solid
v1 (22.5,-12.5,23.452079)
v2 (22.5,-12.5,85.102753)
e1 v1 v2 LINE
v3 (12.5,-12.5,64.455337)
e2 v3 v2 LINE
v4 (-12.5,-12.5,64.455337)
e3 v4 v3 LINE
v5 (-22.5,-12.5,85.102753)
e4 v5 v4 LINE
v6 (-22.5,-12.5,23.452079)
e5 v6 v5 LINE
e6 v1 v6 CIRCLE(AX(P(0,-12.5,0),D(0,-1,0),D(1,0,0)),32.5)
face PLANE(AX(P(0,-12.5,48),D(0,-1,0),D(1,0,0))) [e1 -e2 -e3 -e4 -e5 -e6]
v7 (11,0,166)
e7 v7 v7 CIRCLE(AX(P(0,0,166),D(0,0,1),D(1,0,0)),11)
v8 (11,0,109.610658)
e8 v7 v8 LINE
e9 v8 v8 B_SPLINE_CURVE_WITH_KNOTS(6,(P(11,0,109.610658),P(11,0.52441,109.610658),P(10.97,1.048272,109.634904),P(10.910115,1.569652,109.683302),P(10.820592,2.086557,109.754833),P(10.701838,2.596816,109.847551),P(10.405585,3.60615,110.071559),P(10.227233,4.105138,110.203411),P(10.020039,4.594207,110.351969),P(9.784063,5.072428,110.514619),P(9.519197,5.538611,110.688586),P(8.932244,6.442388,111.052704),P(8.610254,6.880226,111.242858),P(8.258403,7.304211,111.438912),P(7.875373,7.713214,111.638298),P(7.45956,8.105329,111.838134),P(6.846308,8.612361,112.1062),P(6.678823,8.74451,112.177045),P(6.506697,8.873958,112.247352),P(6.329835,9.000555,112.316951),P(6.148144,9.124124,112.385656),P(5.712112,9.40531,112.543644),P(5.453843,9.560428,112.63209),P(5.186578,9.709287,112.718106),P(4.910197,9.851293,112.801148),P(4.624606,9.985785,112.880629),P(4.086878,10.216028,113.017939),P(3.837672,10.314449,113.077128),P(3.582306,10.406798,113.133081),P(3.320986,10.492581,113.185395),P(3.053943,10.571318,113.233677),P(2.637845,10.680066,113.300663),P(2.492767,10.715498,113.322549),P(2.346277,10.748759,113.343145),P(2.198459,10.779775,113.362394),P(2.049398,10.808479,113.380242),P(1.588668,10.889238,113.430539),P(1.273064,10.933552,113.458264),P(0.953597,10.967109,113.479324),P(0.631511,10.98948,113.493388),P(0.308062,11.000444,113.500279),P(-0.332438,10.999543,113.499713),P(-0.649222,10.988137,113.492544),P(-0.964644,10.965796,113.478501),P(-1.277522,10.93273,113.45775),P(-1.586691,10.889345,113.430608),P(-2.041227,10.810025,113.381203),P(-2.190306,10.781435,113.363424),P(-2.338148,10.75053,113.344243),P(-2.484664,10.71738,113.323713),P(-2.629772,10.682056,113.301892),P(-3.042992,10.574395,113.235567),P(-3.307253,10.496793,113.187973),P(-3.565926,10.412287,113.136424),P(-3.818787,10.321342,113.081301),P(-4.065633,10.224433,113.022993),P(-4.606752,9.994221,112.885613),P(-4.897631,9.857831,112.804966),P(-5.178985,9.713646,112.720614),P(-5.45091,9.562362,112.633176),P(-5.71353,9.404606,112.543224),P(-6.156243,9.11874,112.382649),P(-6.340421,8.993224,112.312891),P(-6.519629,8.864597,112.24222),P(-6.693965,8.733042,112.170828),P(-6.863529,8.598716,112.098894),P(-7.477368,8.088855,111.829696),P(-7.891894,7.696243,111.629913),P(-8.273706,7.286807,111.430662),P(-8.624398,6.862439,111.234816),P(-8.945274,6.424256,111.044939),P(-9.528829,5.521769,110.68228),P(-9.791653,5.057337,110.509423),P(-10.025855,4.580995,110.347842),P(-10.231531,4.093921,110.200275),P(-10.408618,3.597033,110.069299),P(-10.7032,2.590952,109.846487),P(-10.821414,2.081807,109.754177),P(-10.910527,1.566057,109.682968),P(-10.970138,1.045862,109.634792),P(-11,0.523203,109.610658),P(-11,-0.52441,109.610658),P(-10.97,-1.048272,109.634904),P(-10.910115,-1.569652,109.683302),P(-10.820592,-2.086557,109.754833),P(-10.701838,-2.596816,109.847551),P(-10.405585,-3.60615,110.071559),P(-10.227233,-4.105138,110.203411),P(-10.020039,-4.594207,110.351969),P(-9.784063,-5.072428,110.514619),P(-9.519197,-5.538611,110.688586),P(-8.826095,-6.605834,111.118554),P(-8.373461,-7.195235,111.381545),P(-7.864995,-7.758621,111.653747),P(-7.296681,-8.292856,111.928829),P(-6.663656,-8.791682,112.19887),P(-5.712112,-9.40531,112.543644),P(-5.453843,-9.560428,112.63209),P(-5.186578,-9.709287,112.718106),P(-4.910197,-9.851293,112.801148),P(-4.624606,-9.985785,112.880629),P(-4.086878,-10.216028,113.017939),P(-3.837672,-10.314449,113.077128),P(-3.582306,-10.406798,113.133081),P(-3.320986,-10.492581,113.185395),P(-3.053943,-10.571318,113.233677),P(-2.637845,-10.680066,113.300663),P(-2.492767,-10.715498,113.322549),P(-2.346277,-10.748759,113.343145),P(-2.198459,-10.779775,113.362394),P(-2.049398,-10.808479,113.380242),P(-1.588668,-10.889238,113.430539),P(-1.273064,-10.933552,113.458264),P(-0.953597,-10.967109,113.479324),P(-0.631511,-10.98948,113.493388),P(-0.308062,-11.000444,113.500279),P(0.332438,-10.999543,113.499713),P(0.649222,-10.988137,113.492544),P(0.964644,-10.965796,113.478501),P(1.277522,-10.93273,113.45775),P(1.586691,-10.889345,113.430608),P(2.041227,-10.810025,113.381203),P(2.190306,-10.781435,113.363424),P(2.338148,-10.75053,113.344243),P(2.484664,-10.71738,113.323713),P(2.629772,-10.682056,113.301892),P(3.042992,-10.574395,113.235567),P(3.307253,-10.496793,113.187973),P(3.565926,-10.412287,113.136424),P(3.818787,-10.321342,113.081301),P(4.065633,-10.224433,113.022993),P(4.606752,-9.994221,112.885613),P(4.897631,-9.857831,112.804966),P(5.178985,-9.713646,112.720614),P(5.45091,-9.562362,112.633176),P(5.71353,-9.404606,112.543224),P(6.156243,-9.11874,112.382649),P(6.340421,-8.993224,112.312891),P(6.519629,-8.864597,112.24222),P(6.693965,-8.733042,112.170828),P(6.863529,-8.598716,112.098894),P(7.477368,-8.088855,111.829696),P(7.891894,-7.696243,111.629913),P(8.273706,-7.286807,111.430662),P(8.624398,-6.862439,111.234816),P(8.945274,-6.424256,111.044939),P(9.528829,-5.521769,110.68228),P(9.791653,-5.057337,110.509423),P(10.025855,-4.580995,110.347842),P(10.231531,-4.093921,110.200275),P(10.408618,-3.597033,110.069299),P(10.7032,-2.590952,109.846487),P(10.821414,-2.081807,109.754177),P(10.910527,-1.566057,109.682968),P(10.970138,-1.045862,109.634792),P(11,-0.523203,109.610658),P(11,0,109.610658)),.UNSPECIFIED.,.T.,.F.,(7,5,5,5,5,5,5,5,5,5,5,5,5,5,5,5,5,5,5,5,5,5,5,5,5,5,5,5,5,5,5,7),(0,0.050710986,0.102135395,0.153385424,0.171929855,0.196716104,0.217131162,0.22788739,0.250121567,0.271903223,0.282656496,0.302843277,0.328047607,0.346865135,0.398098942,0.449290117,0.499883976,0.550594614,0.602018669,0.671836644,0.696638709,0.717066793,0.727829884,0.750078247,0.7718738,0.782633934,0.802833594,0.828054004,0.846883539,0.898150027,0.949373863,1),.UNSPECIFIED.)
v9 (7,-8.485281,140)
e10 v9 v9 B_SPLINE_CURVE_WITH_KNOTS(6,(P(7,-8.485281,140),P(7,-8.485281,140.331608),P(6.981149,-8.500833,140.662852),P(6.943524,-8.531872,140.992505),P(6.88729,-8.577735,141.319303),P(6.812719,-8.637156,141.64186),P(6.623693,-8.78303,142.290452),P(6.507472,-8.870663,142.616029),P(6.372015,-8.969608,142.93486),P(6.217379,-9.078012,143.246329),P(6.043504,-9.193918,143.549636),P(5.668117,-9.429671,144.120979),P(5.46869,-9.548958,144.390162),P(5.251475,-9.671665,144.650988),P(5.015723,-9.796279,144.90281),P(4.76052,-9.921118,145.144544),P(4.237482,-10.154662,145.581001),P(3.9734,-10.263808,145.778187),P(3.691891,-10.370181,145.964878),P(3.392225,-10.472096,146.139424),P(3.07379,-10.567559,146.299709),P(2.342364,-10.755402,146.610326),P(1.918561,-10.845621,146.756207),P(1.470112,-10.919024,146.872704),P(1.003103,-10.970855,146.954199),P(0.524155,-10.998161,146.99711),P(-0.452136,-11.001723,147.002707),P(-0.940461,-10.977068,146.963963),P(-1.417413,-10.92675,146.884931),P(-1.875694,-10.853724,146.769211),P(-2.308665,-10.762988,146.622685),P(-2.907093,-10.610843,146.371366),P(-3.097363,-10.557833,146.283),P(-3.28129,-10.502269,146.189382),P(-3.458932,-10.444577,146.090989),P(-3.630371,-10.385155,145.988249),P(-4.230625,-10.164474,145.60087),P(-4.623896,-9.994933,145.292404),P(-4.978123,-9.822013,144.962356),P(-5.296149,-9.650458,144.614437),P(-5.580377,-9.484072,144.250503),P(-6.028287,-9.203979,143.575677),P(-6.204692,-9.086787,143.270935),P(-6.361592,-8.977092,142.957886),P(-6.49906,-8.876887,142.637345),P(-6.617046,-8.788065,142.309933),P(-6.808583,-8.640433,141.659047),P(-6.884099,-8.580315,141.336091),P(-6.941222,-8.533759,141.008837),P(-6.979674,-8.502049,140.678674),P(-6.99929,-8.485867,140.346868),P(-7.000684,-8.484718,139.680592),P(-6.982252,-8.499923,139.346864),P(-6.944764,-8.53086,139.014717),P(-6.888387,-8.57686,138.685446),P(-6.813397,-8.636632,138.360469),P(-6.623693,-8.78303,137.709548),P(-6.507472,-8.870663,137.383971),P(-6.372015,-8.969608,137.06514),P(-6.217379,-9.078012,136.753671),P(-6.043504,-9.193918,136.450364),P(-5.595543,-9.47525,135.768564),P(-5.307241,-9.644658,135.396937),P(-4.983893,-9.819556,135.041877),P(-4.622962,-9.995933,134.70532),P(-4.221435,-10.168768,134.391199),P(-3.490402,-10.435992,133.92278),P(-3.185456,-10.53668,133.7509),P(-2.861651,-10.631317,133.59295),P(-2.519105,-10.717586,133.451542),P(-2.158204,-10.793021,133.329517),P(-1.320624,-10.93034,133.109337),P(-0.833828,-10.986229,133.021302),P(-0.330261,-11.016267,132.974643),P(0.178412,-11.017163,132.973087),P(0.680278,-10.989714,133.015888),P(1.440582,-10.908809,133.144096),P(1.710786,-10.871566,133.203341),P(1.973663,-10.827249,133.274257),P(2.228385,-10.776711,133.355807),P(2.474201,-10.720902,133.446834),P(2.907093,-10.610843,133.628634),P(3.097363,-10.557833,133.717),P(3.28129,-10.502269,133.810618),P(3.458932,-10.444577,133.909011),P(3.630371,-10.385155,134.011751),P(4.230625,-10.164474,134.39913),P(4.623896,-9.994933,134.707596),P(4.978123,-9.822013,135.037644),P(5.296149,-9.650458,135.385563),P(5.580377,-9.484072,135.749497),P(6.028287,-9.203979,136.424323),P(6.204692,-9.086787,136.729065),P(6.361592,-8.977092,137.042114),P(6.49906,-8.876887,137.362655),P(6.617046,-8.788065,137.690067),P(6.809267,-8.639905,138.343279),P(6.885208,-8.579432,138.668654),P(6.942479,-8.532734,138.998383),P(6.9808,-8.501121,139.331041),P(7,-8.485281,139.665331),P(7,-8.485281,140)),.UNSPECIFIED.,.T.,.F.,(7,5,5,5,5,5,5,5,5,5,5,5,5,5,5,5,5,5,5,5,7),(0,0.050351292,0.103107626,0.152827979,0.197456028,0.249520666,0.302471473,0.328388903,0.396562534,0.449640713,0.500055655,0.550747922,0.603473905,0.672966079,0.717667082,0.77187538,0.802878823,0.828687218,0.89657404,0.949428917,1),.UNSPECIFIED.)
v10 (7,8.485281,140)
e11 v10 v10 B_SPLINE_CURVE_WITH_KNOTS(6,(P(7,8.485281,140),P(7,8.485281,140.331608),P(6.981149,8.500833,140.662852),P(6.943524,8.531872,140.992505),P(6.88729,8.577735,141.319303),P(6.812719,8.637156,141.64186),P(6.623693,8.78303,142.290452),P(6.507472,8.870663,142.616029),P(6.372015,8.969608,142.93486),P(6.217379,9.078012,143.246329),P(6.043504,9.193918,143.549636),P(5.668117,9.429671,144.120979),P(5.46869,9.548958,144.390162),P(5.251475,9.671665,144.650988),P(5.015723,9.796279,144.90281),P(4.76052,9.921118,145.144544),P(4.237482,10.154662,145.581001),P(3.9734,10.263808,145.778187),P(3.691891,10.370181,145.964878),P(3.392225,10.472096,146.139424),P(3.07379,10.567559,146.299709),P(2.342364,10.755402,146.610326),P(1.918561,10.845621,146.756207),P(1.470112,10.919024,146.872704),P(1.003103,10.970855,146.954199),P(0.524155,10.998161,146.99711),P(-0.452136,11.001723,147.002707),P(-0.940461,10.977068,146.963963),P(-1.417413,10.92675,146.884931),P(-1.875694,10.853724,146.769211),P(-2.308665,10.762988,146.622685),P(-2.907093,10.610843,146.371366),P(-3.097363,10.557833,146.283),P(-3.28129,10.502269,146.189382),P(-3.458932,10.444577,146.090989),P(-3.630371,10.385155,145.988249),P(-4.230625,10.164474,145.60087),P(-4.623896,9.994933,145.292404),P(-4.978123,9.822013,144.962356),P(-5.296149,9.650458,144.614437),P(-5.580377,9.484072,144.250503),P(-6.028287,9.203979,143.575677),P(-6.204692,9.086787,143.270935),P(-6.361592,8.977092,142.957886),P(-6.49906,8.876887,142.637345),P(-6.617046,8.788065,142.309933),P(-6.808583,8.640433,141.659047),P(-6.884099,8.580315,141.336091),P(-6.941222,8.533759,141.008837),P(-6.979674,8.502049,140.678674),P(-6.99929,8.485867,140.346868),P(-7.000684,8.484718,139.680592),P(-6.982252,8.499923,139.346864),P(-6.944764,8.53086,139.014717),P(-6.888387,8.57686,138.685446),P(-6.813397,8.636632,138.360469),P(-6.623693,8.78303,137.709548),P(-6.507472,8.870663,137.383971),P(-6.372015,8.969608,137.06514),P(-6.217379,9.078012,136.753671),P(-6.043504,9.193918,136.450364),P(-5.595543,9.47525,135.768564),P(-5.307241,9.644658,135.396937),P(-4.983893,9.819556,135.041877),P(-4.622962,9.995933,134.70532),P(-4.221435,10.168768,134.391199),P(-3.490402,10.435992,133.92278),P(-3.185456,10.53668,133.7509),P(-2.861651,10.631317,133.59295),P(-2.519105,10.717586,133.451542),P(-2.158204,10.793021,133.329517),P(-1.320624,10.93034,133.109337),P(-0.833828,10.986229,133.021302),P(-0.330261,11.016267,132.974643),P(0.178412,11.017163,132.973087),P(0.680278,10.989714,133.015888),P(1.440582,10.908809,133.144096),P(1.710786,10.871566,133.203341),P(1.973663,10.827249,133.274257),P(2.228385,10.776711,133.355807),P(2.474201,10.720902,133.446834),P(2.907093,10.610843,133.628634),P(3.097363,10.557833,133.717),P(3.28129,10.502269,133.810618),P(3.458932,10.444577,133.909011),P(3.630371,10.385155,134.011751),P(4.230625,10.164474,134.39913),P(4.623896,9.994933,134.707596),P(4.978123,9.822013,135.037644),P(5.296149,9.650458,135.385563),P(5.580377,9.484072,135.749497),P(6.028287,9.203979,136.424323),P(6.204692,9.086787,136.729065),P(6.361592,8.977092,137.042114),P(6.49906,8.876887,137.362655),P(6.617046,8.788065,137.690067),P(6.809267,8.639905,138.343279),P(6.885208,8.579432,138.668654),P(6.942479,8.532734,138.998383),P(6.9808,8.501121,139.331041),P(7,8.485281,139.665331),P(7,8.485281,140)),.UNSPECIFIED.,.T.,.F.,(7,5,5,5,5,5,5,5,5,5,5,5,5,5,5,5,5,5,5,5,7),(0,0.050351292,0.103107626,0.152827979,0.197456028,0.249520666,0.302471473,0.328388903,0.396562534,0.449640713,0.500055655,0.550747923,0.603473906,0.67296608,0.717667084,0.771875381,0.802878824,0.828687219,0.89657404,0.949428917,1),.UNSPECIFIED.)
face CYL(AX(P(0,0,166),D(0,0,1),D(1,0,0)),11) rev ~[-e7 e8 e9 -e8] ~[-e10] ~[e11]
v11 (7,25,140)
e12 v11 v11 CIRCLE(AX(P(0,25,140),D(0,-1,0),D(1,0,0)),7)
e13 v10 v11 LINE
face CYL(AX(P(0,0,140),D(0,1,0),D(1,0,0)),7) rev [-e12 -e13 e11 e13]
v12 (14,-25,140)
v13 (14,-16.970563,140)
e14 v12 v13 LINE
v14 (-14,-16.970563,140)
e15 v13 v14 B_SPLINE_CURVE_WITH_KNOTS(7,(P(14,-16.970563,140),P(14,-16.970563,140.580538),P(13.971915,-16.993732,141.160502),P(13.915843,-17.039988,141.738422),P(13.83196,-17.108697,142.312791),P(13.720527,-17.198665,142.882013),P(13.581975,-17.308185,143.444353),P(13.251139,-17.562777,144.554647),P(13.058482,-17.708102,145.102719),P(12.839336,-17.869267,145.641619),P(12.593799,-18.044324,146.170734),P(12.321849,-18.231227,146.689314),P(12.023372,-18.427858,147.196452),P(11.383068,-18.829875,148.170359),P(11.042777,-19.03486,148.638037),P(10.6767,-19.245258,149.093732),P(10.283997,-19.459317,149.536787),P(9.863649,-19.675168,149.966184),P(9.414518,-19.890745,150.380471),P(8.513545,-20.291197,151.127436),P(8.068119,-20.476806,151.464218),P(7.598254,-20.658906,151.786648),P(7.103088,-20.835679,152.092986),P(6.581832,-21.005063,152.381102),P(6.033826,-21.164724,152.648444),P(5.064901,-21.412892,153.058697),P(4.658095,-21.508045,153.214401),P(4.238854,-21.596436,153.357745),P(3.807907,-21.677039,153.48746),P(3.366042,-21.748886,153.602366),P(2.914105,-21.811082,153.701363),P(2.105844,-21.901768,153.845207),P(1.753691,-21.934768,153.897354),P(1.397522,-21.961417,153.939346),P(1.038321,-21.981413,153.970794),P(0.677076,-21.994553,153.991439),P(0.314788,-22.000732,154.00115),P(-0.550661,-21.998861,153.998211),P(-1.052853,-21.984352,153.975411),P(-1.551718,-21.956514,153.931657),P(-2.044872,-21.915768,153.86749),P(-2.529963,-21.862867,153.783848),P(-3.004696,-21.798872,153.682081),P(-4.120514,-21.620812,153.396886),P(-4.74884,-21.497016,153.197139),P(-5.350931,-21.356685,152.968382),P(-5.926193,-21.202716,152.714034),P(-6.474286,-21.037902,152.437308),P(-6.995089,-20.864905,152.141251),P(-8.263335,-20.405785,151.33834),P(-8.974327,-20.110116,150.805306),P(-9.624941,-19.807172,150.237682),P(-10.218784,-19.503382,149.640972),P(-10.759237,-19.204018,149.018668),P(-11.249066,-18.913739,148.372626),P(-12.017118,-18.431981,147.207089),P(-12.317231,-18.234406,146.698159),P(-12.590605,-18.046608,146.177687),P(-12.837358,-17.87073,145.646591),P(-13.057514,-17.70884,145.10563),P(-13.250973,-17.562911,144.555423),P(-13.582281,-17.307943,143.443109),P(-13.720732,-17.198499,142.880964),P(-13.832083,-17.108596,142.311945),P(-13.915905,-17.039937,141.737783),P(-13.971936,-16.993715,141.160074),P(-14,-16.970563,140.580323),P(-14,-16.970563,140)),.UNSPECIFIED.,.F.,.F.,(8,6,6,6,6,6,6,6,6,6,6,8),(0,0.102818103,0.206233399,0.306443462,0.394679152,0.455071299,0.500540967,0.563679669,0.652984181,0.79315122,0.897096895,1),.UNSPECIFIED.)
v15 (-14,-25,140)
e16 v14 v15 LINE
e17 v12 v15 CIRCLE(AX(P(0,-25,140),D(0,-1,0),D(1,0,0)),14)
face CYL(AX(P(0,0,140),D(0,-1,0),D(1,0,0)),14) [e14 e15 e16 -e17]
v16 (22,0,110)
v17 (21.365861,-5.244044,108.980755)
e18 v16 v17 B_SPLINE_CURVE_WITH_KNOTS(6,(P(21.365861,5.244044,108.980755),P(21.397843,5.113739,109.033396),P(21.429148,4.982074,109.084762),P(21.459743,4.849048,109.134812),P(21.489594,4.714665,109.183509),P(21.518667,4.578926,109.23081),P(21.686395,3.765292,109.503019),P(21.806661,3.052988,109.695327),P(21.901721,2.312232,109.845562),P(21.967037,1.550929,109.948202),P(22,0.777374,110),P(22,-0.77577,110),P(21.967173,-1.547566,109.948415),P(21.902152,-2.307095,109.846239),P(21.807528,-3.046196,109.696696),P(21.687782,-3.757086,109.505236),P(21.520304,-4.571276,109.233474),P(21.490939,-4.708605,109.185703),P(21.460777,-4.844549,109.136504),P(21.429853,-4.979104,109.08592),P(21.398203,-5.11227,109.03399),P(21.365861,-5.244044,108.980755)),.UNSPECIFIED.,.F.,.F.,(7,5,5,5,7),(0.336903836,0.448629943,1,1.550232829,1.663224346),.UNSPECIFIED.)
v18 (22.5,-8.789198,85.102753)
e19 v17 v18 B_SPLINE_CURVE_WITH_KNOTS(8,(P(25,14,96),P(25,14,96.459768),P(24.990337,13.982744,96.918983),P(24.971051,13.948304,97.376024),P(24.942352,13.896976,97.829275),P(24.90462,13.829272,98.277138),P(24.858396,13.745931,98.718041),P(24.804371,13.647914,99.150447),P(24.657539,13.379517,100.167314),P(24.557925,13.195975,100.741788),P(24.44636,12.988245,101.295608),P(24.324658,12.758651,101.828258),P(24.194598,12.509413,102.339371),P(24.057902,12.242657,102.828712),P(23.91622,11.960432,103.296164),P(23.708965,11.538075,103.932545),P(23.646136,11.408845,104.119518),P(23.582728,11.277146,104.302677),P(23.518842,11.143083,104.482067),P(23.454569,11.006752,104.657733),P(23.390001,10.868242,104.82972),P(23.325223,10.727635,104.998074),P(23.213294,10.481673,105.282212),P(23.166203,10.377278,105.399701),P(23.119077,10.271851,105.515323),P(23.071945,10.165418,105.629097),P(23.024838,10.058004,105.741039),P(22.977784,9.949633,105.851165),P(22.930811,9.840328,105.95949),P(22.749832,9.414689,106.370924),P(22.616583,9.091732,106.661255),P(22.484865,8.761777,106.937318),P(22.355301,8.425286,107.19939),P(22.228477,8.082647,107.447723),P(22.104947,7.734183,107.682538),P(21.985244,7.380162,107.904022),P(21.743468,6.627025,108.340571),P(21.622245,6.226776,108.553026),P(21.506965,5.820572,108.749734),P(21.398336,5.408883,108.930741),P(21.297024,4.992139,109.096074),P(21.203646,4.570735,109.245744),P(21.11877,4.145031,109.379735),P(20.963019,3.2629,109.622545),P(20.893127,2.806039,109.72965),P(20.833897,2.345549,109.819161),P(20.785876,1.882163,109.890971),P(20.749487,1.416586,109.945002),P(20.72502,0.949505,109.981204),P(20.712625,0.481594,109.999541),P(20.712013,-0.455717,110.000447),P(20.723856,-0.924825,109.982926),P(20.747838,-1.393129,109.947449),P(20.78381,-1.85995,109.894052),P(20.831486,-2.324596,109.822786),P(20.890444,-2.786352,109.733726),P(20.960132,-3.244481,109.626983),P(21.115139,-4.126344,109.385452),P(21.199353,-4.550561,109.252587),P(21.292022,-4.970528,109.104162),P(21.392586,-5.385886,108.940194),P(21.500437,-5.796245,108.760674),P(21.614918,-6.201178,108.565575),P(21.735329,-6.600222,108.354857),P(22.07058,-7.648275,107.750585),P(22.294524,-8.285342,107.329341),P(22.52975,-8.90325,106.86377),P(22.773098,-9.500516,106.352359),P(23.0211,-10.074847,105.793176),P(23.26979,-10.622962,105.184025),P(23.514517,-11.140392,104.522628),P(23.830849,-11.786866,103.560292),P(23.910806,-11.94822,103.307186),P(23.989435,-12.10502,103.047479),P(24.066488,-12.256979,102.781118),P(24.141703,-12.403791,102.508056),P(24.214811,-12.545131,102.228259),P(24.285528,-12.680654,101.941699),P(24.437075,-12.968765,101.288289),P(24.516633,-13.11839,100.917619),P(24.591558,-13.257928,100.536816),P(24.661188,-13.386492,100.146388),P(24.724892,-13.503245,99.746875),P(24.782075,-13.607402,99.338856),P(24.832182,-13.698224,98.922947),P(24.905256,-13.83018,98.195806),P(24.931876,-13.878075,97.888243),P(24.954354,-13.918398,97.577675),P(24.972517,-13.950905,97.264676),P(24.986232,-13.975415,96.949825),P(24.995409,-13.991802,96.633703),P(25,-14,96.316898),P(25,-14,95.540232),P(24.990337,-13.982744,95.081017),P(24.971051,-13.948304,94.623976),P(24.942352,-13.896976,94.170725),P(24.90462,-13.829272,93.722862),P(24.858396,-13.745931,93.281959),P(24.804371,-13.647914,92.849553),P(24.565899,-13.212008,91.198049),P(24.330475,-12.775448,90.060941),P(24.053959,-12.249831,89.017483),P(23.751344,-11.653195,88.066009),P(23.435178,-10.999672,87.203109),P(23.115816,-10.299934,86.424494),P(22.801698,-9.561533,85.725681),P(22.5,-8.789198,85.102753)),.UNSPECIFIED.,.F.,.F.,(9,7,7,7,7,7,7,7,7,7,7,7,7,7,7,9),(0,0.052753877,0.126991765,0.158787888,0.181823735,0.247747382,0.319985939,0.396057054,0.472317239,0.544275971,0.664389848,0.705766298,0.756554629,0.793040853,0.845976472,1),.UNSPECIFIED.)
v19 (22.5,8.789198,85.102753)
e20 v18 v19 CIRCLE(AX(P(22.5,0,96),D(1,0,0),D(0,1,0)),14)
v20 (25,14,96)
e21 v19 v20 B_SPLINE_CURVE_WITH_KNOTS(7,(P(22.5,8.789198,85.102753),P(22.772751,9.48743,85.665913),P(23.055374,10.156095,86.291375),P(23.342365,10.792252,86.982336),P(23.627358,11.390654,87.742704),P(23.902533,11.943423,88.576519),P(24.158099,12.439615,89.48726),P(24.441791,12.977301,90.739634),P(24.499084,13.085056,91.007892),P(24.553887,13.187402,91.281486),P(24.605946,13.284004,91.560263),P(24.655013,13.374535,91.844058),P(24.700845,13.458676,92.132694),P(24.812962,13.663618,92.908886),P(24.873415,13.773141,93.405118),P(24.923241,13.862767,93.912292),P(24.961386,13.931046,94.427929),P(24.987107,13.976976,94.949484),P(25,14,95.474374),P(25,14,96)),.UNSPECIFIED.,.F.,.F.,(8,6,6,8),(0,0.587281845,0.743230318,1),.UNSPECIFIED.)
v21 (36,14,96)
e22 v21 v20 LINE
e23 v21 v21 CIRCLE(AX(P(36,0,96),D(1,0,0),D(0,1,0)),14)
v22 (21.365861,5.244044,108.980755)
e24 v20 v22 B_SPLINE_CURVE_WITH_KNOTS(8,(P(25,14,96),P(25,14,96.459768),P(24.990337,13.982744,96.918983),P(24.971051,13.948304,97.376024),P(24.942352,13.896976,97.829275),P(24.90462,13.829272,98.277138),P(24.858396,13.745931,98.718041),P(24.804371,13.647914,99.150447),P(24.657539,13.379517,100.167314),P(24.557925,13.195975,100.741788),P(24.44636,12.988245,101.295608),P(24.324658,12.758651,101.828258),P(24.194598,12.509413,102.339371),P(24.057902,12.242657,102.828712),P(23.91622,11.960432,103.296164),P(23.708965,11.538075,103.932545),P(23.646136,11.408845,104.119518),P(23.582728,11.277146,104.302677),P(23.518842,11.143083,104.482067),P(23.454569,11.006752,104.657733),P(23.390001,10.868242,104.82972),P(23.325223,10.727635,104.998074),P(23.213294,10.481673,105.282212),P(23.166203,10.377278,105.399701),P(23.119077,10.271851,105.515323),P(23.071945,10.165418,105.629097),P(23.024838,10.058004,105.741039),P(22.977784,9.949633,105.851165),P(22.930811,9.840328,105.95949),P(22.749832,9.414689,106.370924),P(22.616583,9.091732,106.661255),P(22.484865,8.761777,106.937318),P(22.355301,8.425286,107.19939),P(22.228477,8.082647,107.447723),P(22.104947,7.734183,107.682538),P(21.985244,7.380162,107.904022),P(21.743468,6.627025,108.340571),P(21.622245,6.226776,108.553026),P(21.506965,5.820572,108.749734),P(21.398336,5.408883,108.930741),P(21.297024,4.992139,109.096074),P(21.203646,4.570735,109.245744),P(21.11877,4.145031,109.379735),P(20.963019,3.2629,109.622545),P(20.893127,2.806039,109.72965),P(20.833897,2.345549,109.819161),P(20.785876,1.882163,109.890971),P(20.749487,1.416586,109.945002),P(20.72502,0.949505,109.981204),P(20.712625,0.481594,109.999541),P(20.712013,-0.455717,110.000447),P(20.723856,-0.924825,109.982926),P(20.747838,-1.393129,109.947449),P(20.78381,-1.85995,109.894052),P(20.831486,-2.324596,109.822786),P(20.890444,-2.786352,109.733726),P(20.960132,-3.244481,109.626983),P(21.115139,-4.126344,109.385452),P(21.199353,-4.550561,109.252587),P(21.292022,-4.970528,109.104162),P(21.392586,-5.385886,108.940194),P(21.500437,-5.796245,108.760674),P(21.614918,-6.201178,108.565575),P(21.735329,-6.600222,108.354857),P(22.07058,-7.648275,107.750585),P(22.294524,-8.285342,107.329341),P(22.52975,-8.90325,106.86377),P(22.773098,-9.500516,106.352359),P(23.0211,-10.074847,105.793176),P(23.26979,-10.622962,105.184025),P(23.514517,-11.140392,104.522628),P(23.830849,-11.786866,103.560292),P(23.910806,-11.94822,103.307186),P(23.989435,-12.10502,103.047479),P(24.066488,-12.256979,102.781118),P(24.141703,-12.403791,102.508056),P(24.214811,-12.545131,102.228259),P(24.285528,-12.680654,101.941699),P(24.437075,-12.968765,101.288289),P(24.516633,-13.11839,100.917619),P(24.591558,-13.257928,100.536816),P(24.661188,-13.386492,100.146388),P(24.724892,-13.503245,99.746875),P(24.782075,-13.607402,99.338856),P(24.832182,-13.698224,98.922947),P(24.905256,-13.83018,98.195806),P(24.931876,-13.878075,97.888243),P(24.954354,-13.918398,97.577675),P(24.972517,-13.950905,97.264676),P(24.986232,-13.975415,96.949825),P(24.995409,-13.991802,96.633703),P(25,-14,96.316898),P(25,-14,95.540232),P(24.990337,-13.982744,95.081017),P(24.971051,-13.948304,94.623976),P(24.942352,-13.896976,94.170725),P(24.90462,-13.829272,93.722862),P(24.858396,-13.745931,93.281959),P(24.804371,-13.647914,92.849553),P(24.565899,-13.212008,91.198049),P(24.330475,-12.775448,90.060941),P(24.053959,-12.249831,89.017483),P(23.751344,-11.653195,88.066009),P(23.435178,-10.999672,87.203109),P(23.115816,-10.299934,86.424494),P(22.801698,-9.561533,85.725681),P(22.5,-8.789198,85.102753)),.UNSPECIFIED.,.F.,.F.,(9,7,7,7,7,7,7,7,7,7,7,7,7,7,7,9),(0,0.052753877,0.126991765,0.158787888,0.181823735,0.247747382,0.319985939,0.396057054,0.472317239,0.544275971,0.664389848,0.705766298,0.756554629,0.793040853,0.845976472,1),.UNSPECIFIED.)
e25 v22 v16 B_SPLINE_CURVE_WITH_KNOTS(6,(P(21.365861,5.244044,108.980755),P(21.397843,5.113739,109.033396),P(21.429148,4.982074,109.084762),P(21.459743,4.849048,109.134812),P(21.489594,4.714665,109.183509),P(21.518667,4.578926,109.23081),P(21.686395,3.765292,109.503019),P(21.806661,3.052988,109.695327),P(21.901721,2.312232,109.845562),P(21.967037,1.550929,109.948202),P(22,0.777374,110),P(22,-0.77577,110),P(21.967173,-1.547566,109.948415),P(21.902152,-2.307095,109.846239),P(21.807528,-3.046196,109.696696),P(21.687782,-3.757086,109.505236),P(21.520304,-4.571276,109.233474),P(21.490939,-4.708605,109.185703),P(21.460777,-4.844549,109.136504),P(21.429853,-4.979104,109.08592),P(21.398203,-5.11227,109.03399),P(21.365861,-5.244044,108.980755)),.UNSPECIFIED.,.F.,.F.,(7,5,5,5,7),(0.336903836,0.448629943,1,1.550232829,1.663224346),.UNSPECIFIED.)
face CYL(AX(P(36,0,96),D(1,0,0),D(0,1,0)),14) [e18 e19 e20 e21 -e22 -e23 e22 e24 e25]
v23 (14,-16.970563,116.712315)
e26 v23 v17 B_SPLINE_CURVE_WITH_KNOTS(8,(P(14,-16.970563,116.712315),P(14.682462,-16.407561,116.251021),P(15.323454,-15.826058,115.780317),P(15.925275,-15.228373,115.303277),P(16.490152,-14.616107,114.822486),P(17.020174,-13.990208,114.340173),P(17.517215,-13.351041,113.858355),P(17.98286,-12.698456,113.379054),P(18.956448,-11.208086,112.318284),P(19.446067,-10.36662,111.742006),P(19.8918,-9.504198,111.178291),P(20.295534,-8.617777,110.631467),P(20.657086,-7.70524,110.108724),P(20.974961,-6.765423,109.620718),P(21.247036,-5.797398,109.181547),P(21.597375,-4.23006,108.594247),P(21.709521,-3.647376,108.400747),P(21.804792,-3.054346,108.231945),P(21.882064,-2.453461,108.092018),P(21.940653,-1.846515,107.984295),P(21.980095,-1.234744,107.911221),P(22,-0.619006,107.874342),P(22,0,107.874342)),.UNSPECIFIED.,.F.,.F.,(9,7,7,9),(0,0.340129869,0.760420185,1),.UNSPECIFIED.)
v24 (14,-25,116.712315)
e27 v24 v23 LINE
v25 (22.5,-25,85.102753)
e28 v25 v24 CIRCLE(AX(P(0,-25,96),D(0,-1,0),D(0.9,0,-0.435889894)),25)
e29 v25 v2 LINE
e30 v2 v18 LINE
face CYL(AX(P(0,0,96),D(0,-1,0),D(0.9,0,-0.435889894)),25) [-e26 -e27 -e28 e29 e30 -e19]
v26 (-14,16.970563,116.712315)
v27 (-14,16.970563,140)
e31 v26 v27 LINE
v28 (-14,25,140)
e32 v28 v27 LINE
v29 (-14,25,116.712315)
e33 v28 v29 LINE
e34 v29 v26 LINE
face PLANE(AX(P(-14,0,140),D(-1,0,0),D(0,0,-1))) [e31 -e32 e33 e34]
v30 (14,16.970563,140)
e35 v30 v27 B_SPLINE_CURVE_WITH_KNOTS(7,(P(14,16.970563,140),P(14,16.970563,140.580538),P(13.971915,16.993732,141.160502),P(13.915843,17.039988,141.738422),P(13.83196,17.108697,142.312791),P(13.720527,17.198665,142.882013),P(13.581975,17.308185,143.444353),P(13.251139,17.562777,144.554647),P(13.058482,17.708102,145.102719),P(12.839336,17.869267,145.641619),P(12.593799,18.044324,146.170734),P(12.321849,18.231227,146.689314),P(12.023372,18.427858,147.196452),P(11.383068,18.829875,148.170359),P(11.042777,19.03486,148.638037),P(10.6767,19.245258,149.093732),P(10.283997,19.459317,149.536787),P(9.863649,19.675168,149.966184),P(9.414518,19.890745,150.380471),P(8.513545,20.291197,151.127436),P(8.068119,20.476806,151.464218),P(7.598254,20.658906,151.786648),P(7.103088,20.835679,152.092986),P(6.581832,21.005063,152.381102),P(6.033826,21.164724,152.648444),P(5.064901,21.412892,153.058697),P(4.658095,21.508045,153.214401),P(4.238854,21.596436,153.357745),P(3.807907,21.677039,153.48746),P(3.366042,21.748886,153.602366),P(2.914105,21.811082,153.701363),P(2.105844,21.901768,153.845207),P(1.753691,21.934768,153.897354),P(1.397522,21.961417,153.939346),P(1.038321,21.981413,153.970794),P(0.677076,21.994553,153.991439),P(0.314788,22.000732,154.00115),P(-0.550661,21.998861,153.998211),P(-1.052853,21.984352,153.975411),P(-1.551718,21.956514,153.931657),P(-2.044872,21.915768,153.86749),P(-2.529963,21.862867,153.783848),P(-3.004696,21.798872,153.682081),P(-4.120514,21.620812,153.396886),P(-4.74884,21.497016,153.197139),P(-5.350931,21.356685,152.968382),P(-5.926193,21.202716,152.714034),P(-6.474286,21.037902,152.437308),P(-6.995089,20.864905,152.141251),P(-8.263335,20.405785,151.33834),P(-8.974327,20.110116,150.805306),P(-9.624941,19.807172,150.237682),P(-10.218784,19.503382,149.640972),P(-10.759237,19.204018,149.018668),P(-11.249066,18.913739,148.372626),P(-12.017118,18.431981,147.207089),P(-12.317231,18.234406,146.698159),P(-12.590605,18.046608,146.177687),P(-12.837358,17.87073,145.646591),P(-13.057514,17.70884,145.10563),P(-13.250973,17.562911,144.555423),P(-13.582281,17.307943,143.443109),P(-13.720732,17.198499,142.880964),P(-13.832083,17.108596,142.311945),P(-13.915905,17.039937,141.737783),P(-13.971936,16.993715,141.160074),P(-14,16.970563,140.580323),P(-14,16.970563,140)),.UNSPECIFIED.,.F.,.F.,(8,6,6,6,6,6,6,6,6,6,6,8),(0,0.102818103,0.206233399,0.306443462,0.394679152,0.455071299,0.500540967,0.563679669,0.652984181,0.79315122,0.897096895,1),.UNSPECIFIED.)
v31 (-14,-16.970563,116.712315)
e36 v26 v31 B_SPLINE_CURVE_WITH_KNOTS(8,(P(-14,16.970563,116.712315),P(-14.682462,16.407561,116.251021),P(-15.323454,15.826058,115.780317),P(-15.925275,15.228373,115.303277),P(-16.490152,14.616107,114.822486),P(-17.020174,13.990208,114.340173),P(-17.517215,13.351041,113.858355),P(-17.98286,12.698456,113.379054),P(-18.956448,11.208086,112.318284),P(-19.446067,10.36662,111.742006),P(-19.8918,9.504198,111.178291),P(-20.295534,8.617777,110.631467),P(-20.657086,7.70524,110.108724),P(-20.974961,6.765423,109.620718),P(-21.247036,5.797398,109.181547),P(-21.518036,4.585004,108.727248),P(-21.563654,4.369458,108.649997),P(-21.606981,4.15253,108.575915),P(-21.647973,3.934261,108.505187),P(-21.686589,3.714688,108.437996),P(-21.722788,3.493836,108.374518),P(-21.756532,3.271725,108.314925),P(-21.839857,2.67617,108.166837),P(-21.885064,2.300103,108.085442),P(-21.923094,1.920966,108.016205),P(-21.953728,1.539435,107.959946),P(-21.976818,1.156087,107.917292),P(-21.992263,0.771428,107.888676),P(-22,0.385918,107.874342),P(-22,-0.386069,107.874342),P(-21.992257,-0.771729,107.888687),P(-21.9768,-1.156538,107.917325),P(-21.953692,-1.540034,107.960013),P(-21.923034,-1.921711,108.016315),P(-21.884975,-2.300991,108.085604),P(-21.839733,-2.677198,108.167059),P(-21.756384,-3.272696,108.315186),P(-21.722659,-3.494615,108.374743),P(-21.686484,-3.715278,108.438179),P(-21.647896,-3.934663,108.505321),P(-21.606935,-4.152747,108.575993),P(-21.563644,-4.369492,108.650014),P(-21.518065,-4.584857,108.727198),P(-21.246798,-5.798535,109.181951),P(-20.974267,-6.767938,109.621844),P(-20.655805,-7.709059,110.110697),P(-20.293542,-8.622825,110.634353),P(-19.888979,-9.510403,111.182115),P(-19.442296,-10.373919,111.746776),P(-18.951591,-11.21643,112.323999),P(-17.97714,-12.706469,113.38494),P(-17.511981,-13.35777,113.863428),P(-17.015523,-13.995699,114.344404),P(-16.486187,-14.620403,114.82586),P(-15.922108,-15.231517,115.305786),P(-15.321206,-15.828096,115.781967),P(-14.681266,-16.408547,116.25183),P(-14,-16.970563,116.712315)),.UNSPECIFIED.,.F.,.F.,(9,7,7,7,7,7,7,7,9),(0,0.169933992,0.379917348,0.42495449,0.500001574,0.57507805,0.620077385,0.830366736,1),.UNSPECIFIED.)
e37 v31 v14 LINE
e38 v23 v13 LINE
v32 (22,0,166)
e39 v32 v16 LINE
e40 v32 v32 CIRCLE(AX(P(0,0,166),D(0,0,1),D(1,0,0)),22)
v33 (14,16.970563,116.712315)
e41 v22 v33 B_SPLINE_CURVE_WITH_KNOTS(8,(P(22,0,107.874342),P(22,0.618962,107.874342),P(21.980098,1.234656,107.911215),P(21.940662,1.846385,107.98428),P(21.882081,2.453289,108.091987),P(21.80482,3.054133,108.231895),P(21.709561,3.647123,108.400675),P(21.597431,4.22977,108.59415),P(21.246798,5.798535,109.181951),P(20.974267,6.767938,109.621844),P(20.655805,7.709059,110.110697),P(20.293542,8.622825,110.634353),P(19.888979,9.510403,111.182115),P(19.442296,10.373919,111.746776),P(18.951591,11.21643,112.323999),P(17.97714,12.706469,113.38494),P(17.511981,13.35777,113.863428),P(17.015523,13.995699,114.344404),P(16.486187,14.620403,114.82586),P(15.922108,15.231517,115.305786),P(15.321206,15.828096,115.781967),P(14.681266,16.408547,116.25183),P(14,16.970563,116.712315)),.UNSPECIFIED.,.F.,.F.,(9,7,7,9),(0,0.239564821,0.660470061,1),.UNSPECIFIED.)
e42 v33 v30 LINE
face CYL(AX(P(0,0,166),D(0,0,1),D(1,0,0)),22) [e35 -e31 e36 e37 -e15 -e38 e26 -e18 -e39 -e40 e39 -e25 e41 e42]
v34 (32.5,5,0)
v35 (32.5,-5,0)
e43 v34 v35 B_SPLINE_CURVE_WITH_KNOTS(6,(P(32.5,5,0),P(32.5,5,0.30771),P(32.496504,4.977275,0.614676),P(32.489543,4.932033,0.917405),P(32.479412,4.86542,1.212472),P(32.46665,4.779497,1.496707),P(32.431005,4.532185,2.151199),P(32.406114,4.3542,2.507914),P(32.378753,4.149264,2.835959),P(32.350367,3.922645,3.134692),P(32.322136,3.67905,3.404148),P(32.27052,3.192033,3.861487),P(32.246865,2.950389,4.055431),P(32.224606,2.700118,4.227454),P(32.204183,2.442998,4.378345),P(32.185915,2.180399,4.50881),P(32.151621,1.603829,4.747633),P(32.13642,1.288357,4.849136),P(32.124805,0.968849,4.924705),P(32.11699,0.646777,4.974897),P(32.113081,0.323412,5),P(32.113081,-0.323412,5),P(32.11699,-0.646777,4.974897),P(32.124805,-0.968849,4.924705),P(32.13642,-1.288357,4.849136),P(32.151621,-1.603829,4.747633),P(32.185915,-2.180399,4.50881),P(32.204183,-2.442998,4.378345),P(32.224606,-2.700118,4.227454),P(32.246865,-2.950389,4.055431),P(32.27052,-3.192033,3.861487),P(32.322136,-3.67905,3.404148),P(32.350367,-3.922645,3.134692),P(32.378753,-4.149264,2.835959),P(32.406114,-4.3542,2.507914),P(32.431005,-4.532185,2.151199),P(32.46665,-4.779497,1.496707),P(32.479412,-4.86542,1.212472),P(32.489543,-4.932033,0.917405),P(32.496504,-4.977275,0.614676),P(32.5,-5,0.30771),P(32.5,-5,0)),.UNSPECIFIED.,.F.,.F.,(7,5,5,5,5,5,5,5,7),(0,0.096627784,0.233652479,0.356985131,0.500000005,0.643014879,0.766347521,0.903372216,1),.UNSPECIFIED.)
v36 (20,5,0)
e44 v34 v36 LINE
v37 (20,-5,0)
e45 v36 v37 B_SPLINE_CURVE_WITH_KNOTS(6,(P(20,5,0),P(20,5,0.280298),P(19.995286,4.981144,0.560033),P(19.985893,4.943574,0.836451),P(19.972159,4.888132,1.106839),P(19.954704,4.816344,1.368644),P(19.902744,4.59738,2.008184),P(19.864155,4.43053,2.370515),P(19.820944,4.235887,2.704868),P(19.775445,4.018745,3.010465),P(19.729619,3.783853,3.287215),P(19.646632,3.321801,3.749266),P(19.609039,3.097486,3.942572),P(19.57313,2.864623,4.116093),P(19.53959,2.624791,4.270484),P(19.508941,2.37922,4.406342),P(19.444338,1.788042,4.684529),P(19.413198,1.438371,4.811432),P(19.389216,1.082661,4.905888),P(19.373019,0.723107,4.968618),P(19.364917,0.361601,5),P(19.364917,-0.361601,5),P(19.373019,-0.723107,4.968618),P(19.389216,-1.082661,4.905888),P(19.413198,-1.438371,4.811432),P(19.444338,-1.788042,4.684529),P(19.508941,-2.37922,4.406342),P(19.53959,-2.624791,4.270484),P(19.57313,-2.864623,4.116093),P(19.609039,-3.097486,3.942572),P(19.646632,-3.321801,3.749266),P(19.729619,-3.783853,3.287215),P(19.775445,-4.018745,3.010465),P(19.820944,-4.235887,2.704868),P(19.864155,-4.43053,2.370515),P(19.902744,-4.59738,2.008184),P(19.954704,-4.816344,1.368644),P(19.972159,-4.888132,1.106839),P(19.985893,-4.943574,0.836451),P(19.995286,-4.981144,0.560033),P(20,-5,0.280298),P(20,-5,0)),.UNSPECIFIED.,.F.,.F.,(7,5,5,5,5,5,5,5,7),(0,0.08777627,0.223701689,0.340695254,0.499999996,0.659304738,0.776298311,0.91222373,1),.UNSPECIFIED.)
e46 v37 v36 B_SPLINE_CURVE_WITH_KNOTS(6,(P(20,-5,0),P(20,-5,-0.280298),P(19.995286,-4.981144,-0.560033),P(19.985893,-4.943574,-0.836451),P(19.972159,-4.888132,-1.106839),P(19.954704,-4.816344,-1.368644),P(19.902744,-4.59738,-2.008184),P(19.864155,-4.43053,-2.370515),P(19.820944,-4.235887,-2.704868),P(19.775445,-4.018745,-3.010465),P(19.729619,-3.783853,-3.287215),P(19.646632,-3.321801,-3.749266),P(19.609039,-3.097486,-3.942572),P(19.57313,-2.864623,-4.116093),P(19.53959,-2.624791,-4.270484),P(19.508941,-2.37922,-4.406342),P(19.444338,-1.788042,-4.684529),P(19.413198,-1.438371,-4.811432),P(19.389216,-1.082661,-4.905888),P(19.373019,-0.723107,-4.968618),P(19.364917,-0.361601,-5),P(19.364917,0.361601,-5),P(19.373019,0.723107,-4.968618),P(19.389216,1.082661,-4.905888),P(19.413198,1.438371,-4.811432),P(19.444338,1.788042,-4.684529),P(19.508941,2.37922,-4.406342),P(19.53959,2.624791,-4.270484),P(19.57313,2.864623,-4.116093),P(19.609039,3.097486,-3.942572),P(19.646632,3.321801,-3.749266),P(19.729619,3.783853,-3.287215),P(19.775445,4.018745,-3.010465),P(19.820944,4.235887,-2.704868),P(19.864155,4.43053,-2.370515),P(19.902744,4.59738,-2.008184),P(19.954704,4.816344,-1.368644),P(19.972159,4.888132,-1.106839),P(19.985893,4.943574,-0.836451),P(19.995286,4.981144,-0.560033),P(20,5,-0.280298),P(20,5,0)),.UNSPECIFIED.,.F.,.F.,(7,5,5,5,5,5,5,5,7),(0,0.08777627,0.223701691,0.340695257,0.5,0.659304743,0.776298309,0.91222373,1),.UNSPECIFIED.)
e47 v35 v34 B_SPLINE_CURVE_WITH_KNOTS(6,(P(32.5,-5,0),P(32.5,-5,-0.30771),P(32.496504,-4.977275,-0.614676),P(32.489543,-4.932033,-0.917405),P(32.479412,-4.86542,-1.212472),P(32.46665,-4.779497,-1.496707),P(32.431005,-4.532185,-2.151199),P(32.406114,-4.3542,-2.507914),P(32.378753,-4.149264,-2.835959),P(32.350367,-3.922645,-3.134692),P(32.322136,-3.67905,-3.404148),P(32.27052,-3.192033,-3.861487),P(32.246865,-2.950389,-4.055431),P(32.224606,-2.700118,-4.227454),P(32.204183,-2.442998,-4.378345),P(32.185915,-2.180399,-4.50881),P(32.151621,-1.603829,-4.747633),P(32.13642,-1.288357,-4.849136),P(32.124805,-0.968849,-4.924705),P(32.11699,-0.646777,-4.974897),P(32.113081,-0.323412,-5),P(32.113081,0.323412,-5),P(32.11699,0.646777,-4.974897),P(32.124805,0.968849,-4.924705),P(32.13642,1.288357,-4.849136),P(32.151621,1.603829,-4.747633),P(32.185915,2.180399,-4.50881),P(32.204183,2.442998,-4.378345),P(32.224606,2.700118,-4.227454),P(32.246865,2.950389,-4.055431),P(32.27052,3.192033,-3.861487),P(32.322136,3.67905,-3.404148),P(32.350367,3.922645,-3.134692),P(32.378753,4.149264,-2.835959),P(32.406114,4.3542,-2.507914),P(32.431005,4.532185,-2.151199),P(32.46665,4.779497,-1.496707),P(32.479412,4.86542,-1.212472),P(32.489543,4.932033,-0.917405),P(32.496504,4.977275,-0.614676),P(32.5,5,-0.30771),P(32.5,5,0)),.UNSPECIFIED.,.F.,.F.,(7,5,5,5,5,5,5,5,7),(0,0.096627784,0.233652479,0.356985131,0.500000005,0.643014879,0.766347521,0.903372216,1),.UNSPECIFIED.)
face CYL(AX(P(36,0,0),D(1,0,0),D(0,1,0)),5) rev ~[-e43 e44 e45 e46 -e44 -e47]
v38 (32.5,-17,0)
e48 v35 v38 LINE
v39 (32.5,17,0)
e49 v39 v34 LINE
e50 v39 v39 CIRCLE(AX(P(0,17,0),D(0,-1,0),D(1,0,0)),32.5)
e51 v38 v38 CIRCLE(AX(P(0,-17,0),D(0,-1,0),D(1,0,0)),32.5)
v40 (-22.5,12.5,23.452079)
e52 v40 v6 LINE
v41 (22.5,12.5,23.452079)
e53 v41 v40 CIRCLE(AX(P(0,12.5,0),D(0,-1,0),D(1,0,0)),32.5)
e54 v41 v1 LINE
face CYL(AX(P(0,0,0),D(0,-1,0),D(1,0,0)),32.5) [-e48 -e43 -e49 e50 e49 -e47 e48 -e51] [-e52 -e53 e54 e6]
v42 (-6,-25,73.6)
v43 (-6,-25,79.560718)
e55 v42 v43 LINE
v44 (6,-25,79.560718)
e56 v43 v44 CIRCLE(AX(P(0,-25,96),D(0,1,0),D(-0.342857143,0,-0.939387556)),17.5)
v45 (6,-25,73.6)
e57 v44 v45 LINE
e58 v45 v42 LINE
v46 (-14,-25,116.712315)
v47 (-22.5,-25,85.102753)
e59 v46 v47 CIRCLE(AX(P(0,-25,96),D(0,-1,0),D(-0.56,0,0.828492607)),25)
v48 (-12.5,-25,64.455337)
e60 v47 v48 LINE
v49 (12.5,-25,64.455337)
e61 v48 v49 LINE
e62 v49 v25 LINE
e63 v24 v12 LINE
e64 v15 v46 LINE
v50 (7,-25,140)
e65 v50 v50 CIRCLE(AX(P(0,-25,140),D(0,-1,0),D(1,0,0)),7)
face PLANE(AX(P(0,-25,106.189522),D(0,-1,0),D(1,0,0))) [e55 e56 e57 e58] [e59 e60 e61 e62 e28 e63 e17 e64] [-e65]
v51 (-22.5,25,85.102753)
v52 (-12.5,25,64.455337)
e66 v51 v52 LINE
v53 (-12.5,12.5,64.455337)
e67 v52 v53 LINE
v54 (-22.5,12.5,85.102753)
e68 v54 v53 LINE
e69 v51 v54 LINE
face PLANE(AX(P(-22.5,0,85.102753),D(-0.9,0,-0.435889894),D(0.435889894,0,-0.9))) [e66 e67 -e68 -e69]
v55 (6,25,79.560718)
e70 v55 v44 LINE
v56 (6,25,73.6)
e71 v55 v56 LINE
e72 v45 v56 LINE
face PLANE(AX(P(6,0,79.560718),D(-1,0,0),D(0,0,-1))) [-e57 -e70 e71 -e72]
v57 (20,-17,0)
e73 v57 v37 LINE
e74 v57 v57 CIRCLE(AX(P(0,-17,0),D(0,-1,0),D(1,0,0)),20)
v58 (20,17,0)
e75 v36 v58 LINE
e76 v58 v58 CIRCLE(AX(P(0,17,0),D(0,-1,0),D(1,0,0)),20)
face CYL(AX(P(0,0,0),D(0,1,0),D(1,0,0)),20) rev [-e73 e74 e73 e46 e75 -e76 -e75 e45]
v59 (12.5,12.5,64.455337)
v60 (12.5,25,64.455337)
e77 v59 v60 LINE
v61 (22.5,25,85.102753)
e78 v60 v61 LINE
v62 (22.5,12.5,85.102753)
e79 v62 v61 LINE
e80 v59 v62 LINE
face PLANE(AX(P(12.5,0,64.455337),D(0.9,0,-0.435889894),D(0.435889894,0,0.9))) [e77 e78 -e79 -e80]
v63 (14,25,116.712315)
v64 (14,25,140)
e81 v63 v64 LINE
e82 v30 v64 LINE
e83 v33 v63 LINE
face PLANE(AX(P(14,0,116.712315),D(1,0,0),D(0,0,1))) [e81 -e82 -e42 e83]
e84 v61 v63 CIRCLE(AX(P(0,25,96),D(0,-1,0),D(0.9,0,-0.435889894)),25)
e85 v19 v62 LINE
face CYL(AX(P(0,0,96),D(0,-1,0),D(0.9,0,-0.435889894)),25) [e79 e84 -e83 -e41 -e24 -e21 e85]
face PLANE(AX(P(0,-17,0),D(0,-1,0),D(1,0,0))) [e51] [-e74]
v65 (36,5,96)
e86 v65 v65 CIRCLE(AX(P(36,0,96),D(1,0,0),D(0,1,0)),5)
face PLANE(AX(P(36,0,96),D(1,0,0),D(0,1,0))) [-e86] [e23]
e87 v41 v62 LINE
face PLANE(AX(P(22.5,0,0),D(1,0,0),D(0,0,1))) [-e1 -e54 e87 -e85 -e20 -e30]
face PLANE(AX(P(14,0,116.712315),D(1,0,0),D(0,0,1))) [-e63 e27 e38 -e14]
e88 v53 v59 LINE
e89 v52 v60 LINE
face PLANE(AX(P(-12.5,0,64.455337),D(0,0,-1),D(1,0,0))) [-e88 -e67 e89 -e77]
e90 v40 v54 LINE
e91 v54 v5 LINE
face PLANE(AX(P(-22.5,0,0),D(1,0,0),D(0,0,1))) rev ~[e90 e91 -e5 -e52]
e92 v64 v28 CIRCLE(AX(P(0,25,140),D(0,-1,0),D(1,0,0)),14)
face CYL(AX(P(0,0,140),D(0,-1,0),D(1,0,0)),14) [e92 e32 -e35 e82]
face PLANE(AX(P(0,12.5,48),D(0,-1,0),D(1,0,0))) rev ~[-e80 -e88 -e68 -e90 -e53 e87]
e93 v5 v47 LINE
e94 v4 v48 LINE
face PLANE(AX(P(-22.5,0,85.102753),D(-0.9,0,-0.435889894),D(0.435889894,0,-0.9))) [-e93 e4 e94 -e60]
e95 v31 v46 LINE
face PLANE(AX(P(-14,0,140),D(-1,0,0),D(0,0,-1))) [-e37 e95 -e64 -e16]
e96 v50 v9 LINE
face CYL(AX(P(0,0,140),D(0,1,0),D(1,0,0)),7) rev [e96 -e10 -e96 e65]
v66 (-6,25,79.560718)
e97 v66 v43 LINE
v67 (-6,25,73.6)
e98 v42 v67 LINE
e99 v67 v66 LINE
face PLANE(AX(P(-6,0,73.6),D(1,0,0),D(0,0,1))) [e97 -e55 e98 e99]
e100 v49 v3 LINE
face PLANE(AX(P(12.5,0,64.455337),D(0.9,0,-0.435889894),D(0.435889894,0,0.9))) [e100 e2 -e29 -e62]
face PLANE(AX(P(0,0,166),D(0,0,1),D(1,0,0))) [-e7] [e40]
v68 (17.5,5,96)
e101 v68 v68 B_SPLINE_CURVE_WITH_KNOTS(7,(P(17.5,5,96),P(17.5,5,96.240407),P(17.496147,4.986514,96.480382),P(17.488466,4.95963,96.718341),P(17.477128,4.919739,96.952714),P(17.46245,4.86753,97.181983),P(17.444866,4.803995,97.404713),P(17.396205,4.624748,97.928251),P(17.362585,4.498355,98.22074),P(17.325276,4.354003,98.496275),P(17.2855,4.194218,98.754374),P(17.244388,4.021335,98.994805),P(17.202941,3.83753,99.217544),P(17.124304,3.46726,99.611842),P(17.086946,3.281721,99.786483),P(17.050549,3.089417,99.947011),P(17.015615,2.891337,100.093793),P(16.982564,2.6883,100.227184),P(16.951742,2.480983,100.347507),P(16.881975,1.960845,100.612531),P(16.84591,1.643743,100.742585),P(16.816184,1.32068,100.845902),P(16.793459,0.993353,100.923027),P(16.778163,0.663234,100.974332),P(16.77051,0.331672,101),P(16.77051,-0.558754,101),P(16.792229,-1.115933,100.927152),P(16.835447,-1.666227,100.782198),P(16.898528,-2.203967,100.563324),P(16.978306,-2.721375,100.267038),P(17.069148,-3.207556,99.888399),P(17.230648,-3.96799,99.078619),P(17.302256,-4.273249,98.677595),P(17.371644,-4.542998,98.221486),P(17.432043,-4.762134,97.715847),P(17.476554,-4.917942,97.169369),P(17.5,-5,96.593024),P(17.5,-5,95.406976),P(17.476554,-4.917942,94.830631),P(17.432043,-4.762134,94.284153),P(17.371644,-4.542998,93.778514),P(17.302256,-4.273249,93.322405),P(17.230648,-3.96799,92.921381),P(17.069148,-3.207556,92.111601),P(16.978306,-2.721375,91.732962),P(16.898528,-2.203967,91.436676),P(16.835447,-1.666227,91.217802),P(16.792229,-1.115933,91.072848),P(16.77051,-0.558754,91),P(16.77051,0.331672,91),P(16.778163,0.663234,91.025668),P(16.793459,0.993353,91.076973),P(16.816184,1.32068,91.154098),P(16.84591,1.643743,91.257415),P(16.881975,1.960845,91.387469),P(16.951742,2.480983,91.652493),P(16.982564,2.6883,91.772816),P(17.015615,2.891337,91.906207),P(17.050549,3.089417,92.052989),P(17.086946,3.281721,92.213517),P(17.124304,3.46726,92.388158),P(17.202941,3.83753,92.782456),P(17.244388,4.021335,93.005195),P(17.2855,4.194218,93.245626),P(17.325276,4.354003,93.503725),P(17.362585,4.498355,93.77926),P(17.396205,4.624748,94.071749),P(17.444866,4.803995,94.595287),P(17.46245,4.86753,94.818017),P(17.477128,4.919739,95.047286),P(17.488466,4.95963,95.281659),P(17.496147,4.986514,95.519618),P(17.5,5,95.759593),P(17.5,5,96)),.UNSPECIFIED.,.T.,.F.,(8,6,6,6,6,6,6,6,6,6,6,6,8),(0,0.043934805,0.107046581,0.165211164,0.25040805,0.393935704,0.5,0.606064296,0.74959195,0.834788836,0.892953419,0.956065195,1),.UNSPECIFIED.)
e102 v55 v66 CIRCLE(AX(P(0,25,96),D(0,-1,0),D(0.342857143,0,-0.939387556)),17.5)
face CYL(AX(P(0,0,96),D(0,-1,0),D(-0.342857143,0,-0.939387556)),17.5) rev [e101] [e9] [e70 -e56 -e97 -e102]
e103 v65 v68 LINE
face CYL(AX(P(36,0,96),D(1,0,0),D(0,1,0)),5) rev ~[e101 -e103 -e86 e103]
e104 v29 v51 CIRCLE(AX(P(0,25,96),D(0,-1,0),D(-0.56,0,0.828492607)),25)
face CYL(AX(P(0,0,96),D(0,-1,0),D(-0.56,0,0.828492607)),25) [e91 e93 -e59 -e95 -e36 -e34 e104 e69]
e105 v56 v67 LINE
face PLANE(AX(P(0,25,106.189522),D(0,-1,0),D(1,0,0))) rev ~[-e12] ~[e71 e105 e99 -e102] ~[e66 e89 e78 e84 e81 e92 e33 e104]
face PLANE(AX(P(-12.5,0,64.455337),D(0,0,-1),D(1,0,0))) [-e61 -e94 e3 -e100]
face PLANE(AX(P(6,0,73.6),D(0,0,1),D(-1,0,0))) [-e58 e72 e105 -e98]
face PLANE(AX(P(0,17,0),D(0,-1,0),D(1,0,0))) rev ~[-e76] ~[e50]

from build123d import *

# Parameters (mm, degrees)
F0_R      = 32.5
F0_R_2    = 20
F1_DEPTH  = 17
F2_W      = 45
F2_H      = 96
F3_DEPTH  = 12.5
F4_DEPTH  = 29.501
F5_R      = 7
F6_DEPTH  = 25
F7_DEPTH  = 37.501
F9_R      = 22
F11_R     = 11
F12_DEPTH = 70
F14_R     = 14
F16_R     = 5
F17_DEPTH = 19.2304902688
F18_R     = 5
F19_DEPTH = 25


with BuildPart() as f1:
    # F0 (on Front) → F1 (new body, symmetric)
    with BuildSketch(Plane.XZ):
        Circle(F0_R)
        Circle(F0_R_2, mode=Mode.SUBTRACT)
    extrude(amount=F1_DEPTH, both=True)

    # F2 (on Front) → F3 (join, symmetric)
    with BuildSketch(Plane.XZ):
        with Locations((0, 48)):
            Rectangle(F2_W, F2_H)
    extrude(amount=F3_DEPTH, both=True)

    # F4 (cut, through all): a face of the model
    f4_faces = [f1.faces().sort_by_distance(p)[0] for p in [
        (0, -12.5, 8.4882636316),
    ]]
    extrude(f4_faces, amount=-F4_DEPTH, mode=Mode.SUBTRACT)

    # F5 (on Front) → F6 (join, symmetric)
    with BuildSketch(Plane.XZ):
        with BuildLine():
            ThreePointArc((14, 140), (0, 154), (-14, 140))
            Line((-14, 140), (-14, 116.7123151772))
            ThreePointArc((-14, 116.7123151772), (-24.1423613371, 102.4920250361), (-22.5, 85.1027526411))
            Line((-22.5, 85.1027526411), (-12.5, 64.4553365928))
            Line((-12.5, 64.4553365928), (12.5, 64.4553365928))
            Line((12.5, 64.4553365928), (22.5, 85.1027526411))
            ThreePointArc((22.5, 85.1027526411), (24.1423613371, 102.4920250361), (14, 116.7123151772))
            Line((14, 116.7123151772), (14, 140))
        make_face()
        with BuildLine():
            ThreePointArc((-6, 79.5607177772), (0, 113.5), (6, 79.5607177772))
            Line((6, 79.5607177772), (6, 73.6))
            Line((6, 73.6), (-6, 73.6))
            Line((-6, 73.6), (-6, 79.5607177772))
        make_face(mode=Mode.SUBTRACT)
        with Locations((0, 140)):
            Circle(F5_R, mode=Mode.SUBTRACT)
    extrude(amount=F6_DEPTH, both=True)

    # F7 (cut, through all): a face of the model
    f7_faces = [f1.faces().sort_by_distance(p)[0] for p in [
        (0, -12.5, 87.144181228),
    ]]
    extrude(f7_faces, amount=-F7_DEPTH, mode=Mode.SUBTRACT)

    # F9 (on offset) → F10 (join, up to the next surface of F1)
    with BuildSketch(Plane.XY.offset(166)):
        Circle(F9_R)
    extrude(until=Until.NEXT, dir=(0, 0, -1))

    # F11 (on face) → F12 (cut)
    with BuildSketch(Plane.XY.offset(166)):
        Circle(F11_R)
    extrude(amount=-F12_DEPTH, mode=Mode.SUBTRACT)

    # F14 (on offset) → F15 (join, up to the next surface of F1)
    with BuildSketch(Plane.YZ.offset(36)):
        with Locations((0, 96)):
            Circle(F14_R)
    extrude(until=Until.NEXT, dir=(-1, 0, 0))

    # F16 (on offset) → F17 (cut, through all)
    with BuildSketch(Plane.YZ.offset(36)):
        with Locations((0, 96)):
            Circle(F16_R)
    extrude(amount=-F17_DEPTH, mode=Mode.SUBTRACT)

    # F18 (on offset) → F19 (cut)
    with BuildSketch(Plane.YZ.offset(36)):
        Circle(F18_R)
    extrude(amount=-F19_DEPTH, mode=Mode.SUBTRACT)


solid = f1.part
